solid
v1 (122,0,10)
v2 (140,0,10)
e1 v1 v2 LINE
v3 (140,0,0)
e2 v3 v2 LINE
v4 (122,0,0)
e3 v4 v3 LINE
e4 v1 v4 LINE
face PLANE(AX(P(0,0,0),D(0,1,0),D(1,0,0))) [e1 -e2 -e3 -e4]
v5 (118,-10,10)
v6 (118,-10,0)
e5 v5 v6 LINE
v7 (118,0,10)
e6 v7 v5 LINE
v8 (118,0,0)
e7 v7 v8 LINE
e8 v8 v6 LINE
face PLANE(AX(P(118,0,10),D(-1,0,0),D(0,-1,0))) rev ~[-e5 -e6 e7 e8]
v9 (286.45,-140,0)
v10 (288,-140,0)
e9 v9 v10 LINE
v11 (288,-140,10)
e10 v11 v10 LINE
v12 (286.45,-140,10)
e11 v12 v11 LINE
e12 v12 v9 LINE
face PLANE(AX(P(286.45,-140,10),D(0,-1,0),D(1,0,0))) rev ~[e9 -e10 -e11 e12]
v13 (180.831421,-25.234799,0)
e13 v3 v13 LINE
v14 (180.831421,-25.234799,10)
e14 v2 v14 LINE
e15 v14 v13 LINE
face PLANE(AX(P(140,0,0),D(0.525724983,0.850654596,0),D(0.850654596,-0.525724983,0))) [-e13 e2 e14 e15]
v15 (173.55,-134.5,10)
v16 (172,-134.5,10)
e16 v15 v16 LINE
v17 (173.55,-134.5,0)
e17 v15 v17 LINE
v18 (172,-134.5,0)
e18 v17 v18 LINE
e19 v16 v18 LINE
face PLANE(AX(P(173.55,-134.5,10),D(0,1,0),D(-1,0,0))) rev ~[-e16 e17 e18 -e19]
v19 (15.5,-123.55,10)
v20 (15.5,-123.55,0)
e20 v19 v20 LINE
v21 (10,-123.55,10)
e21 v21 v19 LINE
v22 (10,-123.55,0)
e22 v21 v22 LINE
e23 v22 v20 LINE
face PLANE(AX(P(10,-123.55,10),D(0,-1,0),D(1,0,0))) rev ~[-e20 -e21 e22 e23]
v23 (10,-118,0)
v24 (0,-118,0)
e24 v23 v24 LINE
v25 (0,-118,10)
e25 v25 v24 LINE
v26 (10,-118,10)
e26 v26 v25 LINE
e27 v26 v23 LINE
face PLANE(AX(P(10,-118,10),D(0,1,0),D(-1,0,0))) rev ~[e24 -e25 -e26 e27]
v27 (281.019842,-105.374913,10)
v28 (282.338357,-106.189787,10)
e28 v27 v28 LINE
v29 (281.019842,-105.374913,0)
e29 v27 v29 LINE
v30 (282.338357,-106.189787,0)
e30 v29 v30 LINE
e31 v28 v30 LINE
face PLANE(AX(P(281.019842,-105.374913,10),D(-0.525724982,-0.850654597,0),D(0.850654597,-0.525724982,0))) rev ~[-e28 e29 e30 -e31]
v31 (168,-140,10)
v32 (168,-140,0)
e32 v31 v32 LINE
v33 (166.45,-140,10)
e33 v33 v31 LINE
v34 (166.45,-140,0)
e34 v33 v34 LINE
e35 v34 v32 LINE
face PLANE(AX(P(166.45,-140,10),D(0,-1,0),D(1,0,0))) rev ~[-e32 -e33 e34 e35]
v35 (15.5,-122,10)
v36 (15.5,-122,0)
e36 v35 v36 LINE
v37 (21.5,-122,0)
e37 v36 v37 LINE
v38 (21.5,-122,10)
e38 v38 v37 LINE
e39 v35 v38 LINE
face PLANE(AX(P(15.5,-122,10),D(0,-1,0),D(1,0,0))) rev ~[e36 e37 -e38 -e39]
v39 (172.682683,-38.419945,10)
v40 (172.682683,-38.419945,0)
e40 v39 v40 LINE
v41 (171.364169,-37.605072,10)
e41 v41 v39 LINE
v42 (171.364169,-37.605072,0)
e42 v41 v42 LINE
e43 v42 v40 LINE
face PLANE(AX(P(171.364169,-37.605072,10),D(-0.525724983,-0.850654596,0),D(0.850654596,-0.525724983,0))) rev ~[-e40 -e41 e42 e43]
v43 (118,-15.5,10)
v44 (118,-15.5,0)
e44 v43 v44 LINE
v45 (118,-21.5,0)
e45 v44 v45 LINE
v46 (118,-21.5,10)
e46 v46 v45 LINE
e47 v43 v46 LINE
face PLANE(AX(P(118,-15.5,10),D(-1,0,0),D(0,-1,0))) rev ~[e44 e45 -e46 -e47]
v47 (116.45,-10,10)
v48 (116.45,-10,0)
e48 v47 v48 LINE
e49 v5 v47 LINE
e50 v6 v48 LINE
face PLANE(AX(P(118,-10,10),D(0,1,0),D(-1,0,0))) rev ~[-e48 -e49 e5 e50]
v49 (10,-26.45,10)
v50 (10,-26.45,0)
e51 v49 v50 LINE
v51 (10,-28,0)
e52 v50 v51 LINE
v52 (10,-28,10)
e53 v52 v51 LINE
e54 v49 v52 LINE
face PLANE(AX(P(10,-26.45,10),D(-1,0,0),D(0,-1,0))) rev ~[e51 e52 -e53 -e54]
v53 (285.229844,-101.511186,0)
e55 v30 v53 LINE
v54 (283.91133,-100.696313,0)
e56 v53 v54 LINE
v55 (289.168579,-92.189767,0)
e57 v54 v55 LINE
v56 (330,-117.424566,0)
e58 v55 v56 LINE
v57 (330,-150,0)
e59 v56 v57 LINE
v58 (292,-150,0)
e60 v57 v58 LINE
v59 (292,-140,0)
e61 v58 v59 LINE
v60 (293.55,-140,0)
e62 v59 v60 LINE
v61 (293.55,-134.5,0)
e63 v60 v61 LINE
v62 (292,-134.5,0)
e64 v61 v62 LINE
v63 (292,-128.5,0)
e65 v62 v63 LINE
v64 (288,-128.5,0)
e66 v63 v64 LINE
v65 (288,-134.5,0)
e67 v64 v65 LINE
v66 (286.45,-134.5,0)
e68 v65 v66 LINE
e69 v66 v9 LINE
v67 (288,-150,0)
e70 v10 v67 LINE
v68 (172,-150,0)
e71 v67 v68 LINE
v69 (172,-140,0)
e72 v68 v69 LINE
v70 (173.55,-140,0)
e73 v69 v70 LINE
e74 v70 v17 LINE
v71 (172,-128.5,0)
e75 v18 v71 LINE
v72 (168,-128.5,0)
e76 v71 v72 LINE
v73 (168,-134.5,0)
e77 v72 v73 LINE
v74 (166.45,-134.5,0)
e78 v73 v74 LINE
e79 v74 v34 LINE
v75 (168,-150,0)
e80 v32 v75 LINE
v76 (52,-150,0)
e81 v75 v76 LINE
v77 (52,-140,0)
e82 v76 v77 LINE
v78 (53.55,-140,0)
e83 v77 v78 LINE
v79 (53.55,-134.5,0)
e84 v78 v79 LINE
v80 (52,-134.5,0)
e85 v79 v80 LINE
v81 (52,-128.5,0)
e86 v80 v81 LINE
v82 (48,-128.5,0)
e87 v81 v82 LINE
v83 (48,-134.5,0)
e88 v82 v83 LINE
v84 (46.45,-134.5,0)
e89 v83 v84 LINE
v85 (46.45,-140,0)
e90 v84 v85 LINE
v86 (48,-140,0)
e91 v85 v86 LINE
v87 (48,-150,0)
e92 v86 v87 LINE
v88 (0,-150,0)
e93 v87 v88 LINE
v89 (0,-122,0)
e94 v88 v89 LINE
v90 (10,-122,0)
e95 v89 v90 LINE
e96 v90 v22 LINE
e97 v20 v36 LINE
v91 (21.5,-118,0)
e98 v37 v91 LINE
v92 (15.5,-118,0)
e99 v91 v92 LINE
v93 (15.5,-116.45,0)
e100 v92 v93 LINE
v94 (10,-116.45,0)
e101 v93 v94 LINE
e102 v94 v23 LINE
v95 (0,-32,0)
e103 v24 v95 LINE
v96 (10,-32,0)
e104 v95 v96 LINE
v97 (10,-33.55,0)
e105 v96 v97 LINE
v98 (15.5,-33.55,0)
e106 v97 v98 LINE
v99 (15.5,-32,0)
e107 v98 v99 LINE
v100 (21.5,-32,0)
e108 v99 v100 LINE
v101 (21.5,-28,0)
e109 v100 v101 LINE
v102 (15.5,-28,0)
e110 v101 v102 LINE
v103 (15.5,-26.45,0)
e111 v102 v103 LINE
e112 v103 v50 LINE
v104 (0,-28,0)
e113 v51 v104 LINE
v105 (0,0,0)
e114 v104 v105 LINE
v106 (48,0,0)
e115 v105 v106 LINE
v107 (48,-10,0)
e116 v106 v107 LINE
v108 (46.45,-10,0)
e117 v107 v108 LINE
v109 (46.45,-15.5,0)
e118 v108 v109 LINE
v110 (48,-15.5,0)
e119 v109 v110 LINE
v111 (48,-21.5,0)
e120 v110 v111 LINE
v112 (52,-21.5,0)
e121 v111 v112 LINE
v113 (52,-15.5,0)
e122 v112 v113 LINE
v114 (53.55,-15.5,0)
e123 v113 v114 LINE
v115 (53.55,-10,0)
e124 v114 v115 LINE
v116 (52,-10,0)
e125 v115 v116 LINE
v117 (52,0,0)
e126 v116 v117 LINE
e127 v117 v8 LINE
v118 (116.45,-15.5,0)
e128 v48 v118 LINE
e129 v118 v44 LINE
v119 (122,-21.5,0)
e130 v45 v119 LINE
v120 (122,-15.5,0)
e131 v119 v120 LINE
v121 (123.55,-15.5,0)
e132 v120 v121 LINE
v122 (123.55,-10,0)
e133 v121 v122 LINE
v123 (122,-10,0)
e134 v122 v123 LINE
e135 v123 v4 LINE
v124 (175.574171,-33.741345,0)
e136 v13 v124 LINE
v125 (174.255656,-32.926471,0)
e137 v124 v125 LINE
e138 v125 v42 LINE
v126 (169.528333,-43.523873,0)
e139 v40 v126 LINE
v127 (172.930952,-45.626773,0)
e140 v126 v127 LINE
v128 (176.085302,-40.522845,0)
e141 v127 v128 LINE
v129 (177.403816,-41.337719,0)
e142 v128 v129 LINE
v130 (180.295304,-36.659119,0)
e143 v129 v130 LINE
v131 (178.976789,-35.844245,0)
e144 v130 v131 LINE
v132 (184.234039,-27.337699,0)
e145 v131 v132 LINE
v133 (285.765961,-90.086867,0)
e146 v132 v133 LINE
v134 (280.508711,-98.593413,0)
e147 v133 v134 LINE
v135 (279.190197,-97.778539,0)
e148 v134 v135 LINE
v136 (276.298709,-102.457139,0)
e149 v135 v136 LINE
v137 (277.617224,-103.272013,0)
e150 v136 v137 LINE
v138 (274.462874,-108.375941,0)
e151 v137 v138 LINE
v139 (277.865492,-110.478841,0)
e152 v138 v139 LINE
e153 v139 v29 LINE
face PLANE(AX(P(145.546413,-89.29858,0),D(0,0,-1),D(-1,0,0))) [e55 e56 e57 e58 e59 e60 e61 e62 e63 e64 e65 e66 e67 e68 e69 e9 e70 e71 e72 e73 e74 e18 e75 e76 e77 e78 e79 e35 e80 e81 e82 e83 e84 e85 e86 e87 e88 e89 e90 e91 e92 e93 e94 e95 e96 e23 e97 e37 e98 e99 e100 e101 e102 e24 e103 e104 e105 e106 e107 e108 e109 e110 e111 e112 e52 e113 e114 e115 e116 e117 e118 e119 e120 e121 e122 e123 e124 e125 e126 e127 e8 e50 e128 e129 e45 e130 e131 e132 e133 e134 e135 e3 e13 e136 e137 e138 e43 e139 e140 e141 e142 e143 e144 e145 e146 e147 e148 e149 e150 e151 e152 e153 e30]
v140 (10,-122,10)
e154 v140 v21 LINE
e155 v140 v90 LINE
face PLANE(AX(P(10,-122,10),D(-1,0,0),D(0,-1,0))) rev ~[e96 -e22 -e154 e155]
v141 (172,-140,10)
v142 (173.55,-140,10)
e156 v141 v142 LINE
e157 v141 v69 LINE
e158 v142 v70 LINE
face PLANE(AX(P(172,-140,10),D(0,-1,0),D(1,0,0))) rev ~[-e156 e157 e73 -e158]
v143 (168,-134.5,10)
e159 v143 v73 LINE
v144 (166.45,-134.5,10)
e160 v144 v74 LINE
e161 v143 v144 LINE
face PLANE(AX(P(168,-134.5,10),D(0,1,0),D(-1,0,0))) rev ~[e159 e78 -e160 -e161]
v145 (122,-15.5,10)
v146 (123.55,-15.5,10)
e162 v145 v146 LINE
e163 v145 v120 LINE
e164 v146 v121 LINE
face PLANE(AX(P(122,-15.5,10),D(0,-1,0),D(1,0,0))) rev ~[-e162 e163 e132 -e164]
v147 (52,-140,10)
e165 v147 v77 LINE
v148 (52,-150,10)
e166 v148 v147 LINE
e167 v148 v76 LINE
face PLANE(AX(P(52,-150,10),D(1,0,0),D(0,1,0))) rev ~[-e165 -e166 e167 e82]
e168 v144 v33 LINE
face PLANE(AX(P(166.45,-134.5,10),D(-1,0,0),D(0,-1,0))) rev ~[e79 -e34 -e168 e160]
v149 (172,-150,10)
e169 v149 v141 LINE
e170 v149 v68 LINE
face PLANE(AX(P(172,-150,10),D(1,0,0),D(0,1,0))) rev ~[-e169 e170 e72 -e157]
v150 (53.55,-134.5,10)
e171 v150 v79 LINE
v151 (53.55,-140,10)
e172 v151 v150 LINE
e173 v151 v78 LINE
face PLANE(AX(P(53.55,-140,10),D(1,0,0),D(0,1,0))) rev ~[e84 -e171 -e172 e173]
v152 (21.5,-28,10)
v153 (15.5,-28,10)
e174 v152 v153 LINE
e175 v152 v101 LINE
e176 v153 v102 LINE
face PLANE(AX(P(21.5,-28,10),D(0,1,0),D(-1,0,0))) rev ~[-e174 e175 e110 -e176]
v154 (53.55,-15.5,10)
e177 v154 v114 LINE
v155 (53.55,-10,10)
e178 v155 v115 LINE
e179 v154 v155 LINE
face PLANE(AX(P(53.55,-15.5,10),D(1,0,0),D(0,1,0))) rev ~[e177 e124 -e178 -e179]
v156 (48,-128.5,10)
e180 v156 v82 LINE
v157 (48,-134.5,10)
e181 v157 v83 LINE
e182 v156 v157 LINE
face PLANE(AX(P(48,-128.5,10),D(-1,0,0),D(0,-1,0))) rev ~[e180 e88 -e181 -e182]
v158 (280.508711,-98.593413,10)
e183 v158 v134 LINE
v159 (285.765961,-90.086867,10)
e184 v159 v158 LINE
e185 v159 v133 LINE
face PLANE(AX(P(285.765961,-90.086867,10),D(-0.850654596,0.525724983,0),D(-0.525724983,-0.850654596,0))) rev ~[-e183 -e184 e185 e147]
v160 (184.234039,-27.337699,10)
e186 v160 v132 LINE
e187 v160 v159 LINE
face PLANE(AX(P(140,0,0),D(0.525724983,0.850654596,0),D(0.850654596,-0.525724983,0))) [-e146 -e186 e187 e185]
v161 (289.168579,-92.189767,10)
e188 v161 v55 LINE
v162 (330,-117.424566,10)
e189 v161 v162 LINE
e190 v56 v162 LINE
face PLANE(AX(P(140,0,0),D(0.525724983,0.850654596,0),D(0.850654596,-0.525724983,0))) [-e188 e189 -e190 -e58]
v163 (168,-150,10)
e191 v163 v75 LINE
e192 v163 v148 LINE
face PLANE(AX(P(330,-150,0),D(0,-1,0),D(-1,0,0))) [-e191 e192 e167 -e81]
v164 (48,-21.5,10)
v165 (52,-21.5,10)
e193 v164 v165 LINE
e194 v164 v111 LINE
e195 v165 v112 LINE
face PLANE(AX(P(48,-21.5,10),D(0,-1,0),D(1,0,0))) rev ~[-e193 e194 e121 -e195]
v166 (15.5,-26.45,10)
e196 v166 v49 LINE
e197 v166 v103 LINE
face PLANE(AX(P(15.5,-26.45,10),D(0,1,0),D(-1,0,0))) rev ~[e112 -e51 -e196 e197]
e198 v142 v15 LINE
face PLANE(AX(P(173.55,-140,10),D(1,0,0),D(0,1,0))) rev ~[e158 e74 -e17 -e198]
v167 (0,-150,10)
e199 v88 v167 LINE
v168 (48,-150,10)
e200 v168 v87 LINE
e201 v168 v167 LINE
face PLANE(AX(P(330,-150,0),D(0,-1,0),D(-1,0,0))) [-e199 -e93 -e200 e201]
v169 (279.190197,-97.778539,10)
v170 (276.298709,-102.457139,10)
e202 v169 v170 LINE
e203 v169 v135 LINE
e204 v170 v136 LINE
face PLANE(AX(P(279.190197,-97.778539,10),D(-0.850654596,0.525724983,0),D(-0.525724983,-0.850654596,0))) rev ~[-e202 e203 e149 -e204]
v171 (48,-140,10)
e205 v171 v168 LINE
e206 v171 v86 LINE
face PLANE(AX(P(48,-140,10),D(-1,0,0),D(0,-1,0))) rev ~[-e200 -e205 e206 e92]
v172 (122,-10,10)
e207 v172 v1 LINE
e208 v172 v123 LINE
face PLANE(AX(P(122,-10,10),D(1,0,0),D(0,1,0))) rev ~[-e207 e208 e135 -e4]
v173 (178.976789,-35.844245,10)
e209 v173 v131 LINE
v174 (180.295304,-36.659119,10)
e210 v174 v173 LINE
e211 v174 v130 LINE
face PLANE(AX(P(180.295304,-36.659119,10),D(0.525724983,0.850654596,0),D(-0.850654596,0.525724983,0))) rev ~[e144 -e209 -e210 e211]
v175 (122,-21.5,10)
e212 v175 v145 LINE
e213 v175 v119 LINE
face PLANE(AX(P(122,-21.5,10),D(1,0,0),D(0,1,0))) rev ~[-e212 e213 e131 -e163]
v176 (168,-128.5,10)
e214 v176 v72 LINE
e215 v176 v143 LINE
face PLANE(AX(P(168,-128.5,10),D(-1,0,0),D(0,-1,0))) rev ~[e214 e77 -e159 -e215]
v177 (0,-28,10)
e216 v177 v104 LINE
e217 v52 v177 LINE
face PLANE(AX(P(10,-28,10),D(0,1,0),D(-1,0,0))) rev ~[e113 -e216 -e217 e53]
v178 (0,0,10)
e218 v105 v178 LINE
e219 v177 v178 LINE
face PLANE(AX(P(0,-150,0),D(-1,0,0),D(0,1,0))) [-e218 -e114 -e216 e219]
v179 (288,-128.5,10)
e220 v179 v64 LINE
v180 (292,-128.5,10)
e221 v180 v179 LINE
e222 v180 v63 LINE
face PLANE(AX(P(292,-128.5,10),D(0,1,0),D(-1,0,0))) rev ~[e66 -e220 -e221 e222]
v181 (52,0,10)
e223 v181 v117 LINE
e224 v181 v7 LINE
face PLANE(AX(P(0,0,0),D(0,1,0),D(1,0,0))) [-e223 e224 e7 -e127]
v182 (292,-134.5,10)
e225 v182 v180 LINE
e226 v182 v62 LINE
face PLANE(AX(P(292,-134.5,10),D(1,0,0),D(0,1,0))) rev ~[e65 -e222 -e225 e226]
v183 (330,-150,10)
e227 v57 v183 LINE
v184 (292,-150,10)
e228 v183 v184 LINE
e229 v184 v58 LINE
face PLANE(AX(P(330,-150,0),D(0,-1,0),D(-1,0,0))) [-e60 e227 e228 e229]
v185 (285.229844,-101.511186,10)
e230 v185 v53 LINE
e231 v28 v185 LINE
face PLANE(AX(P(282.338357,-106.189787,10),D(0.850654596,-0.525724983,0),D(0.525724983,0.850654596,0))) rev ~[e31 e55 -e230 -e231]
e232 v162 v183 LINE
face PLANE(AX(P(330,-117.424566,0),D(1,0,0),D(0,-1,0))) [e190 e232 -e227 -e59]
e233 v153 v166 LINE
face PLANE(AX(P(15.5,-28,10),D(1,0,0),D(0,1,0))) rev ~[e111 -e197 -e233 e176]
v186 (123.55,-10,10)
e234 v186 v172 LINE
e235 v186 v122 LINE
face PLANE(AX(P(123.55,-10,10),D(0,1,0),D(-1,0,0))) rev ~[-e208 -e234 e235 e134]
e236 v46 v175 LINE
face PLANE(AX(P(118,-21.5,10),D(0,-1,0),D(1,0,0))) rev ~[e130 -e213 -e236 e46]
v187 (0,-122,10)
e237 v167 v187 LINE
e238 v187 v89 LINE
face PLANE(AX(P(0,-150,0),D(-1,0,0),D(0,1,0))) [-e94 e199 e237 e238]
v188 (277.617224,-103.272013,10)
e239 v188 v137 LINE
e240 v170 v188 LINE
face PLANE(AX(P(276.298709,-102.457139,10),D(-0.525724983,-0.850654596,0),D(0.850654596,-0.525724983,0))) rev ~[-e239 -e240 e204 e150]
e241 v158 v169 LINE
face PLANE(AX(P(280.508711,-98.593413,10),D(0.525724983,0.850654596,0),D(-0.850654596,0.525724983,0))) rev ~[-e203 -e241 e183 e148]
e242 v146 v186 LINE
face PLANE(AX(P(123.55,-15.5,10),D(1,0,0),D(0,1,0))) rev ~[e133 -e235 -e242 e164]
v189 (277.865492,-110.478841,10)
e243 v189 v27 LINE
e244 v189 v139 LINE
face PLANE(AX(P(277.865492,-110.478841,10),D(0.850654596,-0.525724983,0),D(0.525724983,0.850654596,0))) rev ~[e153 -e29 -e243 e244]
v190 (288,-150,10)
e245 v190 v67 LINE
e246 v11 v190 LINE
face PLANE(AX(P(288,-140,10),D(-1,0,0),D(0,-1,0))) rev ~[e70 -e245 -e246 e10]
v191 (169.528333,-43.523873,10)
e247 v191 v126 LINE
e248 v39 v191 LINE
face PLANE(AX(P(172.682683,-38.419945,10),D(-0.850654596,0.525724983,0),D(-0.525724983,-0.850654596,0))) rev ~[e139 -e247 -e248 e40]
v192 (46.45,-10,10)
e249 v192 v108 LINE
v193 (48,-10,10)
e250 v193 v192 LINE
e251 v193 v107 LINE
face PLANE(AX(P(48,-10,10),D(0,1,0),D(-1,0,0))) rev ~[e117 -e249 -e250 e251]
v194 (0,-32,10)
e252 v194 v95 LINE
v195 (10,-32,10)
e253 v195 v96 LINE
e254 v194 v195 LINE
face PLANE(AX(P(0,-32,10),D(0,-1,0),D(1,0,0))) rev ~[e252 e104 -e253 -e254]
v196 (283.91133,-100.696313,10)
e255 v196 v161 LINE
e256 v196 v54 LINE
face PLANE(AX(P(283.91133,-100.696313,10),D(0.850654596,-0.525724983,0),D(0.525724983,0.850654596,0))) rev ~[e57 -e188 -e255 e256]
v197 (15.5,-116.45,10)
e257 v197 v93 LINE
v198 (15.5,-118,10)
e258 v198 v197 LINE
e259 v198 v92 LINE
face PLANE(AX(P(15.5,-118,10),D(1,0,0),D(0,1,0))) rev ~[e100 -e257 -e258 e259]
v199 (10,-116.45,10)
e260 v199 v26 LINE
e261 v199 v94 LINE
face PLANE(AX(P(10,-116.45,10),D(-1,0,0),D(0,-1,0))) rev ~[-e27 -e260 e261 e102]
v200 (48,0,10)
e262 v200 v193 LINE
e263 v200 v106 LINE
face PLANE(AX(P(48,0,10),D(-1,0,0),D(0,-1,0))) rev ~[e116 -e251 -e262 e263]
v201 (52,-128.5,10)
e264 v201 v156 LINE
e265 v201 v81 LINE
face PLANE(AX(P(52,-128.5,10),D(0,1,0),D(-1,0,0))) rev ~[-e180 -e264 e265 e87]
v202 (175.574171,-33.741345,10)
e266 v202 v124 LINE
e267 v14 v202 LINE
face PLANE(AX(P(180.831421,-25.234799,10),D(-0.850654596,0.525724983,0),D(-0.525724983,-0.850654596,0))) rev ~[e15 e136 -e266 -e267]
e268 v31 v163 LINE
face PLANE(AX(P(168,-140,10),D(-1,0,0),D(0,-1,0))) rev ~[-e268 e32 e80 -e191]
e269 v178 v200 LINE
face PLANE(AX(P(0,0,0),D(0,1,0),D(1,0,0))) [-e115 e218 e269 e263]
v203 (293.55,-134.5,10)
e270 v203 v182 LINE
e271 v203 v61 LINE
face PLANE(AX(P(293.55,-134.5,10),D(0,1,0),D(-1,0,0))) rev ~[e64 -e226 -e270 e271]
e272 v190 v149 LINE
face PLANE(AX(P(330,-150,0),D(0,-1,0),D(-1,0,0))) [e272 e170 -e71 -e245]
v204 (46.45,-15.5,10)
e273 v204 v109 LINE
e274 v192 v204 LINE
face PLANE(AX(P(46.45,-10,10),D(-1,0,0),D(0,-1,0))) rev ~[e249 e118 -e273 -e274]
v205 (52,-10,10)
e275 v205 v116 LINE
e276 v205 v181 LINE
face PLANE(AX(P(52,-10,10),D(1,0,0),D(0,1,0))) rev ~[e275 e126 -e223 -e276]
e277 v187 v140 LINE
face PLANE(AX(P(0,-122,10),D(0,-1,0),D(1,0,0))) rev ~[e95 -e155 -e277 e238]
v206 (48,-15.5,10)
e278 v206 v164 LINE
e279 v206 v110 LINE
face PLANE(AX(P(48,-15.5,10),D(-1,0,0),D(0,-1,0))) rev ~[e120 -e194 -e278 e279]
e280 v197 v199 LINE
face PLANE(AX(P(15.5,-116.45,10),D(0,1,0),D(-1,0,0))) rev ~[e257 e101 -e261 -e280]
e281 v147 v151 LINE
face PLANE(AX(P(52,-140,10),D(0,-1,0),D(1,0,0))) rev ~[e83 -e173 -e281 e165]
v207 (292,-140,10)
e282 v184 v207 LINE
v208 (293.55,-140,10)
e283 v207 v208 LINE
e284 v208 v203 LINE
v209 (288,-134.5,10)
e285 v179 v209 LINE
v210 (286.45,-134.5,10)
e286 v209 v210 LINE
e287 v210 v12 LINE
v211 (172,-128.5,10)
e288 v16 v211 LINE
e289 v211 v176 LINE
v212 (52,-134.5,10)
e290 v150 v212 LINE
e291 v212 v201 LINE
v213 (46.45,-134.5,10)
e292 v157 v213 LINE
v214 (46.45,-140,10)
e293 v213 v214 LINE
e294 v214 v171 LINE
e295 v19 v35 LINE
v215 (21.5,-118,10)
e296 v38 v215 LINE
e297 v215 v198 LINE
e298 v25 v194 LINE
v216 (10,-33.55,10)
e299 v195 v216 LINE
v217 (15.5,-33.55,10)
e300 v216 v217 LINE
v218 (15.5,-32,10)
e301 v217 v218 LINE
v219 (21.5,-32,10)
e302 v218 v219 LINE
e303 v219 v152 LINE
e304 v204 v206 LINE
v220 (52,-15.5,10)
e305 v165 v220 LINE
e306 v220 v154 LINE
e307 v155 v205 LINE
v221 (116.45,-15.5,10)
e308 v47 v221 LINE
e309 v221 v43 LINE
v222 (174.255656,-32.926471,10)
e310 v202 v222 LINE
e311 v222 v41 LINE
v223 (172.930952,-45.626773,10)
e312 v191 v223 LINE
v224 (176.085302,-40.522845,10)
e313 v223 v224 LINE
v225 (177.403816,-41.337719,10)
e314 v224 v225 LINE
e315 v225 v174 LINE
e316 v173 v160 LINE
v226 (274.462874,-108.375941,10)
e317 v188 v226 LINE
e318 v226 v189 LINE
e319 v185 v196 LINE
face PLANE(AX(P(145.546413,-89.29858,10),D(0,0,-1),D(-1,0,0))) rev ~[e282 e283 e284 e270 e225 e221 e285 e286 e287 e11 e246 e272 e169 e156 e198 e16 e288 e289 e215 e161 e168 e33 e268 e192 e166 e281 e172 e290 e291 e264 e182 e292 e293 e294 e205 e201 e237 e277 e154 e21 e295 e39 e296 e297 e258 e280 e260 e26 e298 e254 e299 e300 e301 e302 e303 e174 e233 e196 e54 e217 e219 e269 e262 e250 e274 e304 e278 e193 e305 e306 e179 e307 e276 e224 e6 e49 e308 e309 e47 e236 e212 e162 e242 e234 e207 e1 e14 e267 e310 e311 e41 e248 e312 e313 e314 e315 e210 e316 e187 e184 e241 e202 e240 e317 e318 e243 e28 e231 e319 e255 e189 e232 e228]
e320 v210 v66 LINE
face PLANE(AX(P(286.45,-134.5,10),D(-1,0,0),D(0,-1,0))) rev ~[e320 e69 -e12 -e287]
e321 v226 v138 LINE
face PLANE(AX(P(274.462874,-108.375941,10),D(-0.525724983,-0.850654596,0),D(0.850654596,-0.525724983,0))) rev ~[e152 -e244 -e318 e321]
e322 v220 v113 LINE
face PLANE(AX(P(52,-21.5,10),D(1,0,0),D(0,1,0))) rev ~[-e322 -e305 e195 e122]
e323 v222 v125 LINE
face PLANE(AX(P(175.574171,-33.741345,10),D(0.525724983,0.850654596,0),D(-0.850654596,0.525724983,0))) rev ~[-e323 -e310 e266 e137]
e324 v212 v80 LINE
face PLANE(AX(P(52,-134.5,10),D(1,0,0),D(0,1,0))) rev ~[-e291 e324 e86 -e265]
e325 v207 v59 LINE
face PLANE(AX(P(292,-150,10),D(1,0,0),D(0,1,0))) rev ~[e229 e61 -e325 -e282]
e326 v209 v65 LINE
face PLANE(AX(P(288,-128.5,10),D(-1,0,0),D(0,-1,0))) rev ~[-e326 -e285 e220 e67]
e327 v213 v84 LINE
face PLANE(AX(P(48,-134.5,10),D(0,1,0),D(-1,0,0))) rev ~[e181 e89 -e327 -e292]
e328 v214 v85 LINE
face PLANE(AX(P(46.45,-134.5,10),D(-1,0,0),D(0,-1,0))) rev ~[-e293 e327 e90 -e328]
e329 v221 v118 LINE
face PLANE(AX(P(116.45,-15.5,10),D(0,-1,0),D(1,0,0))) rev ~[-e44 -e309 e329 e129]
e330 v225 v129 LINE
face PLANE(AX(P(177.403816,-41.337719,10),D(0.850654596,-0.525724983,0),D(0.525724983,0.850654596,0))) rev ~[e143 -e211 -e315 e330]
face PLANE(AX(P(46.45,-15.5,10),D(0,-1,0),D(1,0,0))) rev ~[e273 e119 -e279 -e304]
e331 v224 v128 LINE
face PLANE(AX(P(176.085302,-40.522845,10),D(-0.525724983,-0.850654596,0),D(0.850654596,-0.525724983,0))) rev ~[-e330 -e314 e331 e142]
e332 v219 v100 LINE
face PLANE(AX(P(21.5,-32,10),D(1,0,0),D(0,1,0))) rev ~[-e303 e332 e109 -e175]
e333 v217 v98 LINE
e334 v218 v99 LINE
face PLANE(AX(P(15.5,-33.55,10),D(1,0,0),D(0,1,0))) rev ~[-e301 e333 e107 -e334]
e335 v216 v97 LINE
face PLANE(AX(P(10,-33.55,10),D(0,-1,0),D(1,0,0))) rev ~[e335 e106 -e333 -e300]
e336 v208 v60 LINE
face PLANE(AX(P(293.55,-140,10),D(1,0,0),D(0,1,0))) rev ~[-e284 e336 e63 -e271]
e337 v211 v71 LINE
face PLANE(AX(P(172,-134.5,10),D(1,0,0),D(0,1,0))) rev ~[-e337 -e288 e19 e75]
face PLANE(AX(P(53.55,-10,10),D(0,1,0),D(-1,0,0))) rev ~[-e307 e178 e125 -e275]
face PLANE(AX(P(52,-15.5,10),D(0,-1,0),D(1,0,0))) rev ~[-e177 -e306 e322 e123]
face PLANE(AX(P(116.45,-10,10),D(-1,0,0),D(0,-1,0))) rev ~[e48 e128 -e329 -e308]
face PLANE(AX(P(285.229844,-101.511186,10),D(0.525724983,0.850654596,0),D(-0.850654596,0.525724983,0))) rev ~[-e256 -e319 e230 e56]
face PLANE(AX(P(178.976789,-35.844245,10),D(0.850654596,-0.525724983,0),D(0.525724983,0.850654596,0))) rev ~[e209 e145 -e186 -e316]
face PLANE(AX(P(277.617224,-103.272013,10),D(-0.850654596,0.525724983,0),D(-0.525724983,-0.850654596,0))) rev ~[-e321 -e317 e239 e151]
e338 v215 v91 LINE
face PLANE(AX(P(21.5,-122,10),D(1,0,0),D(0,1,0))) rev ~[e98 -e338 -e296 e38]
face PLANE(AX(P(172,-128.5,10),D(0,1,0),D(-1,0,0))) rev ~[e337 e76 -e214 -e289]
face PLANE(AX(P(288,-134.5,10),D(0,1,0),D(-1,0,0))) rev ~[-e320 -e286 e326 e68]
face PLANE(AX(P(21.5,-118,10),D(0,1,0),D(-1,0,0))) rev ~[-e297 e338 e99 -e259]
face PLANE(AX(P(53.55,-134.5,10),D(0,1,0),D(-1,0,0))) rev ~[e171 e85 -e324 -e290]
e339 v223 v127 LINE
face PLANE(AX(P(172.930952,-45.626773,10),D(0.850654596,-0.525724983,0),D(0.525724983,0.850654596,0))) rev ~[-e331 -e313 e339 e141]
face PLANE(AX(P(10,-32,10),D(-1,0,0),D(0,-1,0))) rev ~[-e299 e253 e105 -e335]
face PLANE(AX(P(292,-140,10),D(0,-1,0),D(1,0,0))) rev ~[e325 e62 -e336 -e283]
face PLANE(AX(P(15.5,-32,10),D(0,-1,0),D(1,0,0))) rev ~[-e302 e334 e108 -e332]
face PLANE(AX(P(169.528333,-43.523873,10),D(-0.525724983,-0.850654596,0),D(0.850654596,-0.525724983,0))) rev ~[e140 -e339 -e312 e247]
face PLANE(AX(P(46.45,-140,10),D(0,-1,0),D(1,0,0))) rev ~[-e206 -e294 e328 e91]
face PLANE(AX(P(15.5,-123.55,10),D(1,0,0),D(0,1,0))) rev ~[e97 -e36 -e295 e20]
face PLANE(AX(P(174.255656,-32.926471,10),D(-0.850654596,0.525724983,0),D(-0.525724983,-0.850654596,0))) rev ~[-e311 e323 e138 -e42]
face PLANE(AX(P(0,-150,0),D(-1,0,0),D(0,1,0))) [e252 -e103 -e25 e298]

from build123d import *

# Parameters (mm, degrees)
BOSS_EXTRU_1_DEPTH      = 10
ENL_V_MAT_EXTRU_1_DEPTH = 10
ENL_V_MAT_EXTRU_2_DEPTH = 10
ENL_V_MAT_EXTRU_3_DEPTH = 10


with BuildPart() as part:
    # Esquisse1 → Boss.-Extru.1 (new body)
    with BuildSketch(Plane.XY):
        Polygon((0, 0), (140, 0), (330, -117.424565968), (330, -150), (0, -150), align=None)
    extrude(amount=BOSS_EXTRU_1_DEPTH)

    # Esquisse2 → Enlèv. mat.-Extru.1 (cut)
    with BuildSketch(Plane.XY.offset(10)):
        Polygon((48, -140), (48, -150), (52, -150), (52, -140), (53.55, -140), (53.55, -134.5), (52, -134.5), (52, -128.5), (48, -128.5), (48, -134.5), (46.45, -134.5), (46.45, -140), align=None)
        Polygon((168, -140), (168, -150), (172, -150), (172, -140), (173.55, -140), (173.55, -134.5), (172, -134.5), (172, -128.5), (168, -128.5), (168, -134.5), (166.45, -134.5), (166.45, -140), align=None)
        Polygon((288, -140), (288, -150), (292, -150), (292, -140), (293.55, -140), (293.55, -134.5), (292, -134.5), (292, -128.5), (288, -128.5), (288, -134.5), (286.45, -134.5), (286.45, -140), align=None)
        Polygon((10, -28), (0, -28), (0, -32), (10, -32), (10, -33.55), (15.5, -33.55), (15.5, -32), (21.5, -32), (21.5, -28), (15.5, -28), (15.5, -26.45), (10, -26.45), align=None)
        Polygon((10, -118), (0, -118), (0, -122), (10, -122), (10, -123.55), (15.5, -123.55), (15.5, -122), (21.5, -122), (21.5, -118), (15.5, -118), (15.5, -116.45), (10, -116.45), align=None)
    extrude(amount=-ENL_V_MAT_EXTRU_1_DEPTH, mode=Mode.SUBTRACT)

    # Esquisse3 → Enlèv. mat.-Extru.2 (cut)
    with BuildSketch(Plane.XY.offset(10)):
        Polygon((48, 0), (48, -10), (46.45, -10), (46.45, -15.5), (48, -15.5), (48, -21.5), (52, -21.5), (52, -15.5), (53.55, -15.5), (53.55, -10), (52, -10), (52, 0), align=None)
        Polygon((118, 0), (118, -10), (116.45, -10), (116.45, -15.5), (118, -15.5), (118, -21.5), (122, -21.5), (122, -15.5), (123.55, -15.5), (123.55, -10), (122, -10), (122, 0), align=None)
    extrude(amount=-ENL_V_MAT_EXTRU_2_DEPTH, mode=Mode.SUBTRACT)

    # Esquisse4 → Enlèv. mat.-Extru.3 (cut)
    with BuildSketch(Plane.XY.offset(10)):
        Polygon((180.831420624, -25.234799183), (175.574170795, -33.741345146), (174.25565617, -32.926471422), (171.364168764, -37.605071702), (172.682683388, -38.419945426), (169.528333491, -43.523873004), (172.930951876, -45.626772936), (176.085301774, -40.522845358), (177.403816398, -41.337719081), (180.295303804, -36.659118802), (178.97678918, -35.844245078), (184.23403901, -27.337699114), align=None)
        Polygon((285.76596099, -90.086866854), (280.50871116, -98.593412817), (279.190196536, -97.778539093), (276.29870913, -102.457139373), (277.617223754, -103.272013097), (274.462873856, -108.375940675), (277.865492242, -110.478840607), (281.019842139, -105.374913029), (282.338356764, -106.189786752), (285.22984417, -101.511186473), (283.911329546, -100.696312749), (289.168579376, -92.189766786), align=None)
    extrude(amount=-ENL_V_MAT_EXTRU_3_DEPTH, mode=Mode.SUBTRACT)


solid = part.part
